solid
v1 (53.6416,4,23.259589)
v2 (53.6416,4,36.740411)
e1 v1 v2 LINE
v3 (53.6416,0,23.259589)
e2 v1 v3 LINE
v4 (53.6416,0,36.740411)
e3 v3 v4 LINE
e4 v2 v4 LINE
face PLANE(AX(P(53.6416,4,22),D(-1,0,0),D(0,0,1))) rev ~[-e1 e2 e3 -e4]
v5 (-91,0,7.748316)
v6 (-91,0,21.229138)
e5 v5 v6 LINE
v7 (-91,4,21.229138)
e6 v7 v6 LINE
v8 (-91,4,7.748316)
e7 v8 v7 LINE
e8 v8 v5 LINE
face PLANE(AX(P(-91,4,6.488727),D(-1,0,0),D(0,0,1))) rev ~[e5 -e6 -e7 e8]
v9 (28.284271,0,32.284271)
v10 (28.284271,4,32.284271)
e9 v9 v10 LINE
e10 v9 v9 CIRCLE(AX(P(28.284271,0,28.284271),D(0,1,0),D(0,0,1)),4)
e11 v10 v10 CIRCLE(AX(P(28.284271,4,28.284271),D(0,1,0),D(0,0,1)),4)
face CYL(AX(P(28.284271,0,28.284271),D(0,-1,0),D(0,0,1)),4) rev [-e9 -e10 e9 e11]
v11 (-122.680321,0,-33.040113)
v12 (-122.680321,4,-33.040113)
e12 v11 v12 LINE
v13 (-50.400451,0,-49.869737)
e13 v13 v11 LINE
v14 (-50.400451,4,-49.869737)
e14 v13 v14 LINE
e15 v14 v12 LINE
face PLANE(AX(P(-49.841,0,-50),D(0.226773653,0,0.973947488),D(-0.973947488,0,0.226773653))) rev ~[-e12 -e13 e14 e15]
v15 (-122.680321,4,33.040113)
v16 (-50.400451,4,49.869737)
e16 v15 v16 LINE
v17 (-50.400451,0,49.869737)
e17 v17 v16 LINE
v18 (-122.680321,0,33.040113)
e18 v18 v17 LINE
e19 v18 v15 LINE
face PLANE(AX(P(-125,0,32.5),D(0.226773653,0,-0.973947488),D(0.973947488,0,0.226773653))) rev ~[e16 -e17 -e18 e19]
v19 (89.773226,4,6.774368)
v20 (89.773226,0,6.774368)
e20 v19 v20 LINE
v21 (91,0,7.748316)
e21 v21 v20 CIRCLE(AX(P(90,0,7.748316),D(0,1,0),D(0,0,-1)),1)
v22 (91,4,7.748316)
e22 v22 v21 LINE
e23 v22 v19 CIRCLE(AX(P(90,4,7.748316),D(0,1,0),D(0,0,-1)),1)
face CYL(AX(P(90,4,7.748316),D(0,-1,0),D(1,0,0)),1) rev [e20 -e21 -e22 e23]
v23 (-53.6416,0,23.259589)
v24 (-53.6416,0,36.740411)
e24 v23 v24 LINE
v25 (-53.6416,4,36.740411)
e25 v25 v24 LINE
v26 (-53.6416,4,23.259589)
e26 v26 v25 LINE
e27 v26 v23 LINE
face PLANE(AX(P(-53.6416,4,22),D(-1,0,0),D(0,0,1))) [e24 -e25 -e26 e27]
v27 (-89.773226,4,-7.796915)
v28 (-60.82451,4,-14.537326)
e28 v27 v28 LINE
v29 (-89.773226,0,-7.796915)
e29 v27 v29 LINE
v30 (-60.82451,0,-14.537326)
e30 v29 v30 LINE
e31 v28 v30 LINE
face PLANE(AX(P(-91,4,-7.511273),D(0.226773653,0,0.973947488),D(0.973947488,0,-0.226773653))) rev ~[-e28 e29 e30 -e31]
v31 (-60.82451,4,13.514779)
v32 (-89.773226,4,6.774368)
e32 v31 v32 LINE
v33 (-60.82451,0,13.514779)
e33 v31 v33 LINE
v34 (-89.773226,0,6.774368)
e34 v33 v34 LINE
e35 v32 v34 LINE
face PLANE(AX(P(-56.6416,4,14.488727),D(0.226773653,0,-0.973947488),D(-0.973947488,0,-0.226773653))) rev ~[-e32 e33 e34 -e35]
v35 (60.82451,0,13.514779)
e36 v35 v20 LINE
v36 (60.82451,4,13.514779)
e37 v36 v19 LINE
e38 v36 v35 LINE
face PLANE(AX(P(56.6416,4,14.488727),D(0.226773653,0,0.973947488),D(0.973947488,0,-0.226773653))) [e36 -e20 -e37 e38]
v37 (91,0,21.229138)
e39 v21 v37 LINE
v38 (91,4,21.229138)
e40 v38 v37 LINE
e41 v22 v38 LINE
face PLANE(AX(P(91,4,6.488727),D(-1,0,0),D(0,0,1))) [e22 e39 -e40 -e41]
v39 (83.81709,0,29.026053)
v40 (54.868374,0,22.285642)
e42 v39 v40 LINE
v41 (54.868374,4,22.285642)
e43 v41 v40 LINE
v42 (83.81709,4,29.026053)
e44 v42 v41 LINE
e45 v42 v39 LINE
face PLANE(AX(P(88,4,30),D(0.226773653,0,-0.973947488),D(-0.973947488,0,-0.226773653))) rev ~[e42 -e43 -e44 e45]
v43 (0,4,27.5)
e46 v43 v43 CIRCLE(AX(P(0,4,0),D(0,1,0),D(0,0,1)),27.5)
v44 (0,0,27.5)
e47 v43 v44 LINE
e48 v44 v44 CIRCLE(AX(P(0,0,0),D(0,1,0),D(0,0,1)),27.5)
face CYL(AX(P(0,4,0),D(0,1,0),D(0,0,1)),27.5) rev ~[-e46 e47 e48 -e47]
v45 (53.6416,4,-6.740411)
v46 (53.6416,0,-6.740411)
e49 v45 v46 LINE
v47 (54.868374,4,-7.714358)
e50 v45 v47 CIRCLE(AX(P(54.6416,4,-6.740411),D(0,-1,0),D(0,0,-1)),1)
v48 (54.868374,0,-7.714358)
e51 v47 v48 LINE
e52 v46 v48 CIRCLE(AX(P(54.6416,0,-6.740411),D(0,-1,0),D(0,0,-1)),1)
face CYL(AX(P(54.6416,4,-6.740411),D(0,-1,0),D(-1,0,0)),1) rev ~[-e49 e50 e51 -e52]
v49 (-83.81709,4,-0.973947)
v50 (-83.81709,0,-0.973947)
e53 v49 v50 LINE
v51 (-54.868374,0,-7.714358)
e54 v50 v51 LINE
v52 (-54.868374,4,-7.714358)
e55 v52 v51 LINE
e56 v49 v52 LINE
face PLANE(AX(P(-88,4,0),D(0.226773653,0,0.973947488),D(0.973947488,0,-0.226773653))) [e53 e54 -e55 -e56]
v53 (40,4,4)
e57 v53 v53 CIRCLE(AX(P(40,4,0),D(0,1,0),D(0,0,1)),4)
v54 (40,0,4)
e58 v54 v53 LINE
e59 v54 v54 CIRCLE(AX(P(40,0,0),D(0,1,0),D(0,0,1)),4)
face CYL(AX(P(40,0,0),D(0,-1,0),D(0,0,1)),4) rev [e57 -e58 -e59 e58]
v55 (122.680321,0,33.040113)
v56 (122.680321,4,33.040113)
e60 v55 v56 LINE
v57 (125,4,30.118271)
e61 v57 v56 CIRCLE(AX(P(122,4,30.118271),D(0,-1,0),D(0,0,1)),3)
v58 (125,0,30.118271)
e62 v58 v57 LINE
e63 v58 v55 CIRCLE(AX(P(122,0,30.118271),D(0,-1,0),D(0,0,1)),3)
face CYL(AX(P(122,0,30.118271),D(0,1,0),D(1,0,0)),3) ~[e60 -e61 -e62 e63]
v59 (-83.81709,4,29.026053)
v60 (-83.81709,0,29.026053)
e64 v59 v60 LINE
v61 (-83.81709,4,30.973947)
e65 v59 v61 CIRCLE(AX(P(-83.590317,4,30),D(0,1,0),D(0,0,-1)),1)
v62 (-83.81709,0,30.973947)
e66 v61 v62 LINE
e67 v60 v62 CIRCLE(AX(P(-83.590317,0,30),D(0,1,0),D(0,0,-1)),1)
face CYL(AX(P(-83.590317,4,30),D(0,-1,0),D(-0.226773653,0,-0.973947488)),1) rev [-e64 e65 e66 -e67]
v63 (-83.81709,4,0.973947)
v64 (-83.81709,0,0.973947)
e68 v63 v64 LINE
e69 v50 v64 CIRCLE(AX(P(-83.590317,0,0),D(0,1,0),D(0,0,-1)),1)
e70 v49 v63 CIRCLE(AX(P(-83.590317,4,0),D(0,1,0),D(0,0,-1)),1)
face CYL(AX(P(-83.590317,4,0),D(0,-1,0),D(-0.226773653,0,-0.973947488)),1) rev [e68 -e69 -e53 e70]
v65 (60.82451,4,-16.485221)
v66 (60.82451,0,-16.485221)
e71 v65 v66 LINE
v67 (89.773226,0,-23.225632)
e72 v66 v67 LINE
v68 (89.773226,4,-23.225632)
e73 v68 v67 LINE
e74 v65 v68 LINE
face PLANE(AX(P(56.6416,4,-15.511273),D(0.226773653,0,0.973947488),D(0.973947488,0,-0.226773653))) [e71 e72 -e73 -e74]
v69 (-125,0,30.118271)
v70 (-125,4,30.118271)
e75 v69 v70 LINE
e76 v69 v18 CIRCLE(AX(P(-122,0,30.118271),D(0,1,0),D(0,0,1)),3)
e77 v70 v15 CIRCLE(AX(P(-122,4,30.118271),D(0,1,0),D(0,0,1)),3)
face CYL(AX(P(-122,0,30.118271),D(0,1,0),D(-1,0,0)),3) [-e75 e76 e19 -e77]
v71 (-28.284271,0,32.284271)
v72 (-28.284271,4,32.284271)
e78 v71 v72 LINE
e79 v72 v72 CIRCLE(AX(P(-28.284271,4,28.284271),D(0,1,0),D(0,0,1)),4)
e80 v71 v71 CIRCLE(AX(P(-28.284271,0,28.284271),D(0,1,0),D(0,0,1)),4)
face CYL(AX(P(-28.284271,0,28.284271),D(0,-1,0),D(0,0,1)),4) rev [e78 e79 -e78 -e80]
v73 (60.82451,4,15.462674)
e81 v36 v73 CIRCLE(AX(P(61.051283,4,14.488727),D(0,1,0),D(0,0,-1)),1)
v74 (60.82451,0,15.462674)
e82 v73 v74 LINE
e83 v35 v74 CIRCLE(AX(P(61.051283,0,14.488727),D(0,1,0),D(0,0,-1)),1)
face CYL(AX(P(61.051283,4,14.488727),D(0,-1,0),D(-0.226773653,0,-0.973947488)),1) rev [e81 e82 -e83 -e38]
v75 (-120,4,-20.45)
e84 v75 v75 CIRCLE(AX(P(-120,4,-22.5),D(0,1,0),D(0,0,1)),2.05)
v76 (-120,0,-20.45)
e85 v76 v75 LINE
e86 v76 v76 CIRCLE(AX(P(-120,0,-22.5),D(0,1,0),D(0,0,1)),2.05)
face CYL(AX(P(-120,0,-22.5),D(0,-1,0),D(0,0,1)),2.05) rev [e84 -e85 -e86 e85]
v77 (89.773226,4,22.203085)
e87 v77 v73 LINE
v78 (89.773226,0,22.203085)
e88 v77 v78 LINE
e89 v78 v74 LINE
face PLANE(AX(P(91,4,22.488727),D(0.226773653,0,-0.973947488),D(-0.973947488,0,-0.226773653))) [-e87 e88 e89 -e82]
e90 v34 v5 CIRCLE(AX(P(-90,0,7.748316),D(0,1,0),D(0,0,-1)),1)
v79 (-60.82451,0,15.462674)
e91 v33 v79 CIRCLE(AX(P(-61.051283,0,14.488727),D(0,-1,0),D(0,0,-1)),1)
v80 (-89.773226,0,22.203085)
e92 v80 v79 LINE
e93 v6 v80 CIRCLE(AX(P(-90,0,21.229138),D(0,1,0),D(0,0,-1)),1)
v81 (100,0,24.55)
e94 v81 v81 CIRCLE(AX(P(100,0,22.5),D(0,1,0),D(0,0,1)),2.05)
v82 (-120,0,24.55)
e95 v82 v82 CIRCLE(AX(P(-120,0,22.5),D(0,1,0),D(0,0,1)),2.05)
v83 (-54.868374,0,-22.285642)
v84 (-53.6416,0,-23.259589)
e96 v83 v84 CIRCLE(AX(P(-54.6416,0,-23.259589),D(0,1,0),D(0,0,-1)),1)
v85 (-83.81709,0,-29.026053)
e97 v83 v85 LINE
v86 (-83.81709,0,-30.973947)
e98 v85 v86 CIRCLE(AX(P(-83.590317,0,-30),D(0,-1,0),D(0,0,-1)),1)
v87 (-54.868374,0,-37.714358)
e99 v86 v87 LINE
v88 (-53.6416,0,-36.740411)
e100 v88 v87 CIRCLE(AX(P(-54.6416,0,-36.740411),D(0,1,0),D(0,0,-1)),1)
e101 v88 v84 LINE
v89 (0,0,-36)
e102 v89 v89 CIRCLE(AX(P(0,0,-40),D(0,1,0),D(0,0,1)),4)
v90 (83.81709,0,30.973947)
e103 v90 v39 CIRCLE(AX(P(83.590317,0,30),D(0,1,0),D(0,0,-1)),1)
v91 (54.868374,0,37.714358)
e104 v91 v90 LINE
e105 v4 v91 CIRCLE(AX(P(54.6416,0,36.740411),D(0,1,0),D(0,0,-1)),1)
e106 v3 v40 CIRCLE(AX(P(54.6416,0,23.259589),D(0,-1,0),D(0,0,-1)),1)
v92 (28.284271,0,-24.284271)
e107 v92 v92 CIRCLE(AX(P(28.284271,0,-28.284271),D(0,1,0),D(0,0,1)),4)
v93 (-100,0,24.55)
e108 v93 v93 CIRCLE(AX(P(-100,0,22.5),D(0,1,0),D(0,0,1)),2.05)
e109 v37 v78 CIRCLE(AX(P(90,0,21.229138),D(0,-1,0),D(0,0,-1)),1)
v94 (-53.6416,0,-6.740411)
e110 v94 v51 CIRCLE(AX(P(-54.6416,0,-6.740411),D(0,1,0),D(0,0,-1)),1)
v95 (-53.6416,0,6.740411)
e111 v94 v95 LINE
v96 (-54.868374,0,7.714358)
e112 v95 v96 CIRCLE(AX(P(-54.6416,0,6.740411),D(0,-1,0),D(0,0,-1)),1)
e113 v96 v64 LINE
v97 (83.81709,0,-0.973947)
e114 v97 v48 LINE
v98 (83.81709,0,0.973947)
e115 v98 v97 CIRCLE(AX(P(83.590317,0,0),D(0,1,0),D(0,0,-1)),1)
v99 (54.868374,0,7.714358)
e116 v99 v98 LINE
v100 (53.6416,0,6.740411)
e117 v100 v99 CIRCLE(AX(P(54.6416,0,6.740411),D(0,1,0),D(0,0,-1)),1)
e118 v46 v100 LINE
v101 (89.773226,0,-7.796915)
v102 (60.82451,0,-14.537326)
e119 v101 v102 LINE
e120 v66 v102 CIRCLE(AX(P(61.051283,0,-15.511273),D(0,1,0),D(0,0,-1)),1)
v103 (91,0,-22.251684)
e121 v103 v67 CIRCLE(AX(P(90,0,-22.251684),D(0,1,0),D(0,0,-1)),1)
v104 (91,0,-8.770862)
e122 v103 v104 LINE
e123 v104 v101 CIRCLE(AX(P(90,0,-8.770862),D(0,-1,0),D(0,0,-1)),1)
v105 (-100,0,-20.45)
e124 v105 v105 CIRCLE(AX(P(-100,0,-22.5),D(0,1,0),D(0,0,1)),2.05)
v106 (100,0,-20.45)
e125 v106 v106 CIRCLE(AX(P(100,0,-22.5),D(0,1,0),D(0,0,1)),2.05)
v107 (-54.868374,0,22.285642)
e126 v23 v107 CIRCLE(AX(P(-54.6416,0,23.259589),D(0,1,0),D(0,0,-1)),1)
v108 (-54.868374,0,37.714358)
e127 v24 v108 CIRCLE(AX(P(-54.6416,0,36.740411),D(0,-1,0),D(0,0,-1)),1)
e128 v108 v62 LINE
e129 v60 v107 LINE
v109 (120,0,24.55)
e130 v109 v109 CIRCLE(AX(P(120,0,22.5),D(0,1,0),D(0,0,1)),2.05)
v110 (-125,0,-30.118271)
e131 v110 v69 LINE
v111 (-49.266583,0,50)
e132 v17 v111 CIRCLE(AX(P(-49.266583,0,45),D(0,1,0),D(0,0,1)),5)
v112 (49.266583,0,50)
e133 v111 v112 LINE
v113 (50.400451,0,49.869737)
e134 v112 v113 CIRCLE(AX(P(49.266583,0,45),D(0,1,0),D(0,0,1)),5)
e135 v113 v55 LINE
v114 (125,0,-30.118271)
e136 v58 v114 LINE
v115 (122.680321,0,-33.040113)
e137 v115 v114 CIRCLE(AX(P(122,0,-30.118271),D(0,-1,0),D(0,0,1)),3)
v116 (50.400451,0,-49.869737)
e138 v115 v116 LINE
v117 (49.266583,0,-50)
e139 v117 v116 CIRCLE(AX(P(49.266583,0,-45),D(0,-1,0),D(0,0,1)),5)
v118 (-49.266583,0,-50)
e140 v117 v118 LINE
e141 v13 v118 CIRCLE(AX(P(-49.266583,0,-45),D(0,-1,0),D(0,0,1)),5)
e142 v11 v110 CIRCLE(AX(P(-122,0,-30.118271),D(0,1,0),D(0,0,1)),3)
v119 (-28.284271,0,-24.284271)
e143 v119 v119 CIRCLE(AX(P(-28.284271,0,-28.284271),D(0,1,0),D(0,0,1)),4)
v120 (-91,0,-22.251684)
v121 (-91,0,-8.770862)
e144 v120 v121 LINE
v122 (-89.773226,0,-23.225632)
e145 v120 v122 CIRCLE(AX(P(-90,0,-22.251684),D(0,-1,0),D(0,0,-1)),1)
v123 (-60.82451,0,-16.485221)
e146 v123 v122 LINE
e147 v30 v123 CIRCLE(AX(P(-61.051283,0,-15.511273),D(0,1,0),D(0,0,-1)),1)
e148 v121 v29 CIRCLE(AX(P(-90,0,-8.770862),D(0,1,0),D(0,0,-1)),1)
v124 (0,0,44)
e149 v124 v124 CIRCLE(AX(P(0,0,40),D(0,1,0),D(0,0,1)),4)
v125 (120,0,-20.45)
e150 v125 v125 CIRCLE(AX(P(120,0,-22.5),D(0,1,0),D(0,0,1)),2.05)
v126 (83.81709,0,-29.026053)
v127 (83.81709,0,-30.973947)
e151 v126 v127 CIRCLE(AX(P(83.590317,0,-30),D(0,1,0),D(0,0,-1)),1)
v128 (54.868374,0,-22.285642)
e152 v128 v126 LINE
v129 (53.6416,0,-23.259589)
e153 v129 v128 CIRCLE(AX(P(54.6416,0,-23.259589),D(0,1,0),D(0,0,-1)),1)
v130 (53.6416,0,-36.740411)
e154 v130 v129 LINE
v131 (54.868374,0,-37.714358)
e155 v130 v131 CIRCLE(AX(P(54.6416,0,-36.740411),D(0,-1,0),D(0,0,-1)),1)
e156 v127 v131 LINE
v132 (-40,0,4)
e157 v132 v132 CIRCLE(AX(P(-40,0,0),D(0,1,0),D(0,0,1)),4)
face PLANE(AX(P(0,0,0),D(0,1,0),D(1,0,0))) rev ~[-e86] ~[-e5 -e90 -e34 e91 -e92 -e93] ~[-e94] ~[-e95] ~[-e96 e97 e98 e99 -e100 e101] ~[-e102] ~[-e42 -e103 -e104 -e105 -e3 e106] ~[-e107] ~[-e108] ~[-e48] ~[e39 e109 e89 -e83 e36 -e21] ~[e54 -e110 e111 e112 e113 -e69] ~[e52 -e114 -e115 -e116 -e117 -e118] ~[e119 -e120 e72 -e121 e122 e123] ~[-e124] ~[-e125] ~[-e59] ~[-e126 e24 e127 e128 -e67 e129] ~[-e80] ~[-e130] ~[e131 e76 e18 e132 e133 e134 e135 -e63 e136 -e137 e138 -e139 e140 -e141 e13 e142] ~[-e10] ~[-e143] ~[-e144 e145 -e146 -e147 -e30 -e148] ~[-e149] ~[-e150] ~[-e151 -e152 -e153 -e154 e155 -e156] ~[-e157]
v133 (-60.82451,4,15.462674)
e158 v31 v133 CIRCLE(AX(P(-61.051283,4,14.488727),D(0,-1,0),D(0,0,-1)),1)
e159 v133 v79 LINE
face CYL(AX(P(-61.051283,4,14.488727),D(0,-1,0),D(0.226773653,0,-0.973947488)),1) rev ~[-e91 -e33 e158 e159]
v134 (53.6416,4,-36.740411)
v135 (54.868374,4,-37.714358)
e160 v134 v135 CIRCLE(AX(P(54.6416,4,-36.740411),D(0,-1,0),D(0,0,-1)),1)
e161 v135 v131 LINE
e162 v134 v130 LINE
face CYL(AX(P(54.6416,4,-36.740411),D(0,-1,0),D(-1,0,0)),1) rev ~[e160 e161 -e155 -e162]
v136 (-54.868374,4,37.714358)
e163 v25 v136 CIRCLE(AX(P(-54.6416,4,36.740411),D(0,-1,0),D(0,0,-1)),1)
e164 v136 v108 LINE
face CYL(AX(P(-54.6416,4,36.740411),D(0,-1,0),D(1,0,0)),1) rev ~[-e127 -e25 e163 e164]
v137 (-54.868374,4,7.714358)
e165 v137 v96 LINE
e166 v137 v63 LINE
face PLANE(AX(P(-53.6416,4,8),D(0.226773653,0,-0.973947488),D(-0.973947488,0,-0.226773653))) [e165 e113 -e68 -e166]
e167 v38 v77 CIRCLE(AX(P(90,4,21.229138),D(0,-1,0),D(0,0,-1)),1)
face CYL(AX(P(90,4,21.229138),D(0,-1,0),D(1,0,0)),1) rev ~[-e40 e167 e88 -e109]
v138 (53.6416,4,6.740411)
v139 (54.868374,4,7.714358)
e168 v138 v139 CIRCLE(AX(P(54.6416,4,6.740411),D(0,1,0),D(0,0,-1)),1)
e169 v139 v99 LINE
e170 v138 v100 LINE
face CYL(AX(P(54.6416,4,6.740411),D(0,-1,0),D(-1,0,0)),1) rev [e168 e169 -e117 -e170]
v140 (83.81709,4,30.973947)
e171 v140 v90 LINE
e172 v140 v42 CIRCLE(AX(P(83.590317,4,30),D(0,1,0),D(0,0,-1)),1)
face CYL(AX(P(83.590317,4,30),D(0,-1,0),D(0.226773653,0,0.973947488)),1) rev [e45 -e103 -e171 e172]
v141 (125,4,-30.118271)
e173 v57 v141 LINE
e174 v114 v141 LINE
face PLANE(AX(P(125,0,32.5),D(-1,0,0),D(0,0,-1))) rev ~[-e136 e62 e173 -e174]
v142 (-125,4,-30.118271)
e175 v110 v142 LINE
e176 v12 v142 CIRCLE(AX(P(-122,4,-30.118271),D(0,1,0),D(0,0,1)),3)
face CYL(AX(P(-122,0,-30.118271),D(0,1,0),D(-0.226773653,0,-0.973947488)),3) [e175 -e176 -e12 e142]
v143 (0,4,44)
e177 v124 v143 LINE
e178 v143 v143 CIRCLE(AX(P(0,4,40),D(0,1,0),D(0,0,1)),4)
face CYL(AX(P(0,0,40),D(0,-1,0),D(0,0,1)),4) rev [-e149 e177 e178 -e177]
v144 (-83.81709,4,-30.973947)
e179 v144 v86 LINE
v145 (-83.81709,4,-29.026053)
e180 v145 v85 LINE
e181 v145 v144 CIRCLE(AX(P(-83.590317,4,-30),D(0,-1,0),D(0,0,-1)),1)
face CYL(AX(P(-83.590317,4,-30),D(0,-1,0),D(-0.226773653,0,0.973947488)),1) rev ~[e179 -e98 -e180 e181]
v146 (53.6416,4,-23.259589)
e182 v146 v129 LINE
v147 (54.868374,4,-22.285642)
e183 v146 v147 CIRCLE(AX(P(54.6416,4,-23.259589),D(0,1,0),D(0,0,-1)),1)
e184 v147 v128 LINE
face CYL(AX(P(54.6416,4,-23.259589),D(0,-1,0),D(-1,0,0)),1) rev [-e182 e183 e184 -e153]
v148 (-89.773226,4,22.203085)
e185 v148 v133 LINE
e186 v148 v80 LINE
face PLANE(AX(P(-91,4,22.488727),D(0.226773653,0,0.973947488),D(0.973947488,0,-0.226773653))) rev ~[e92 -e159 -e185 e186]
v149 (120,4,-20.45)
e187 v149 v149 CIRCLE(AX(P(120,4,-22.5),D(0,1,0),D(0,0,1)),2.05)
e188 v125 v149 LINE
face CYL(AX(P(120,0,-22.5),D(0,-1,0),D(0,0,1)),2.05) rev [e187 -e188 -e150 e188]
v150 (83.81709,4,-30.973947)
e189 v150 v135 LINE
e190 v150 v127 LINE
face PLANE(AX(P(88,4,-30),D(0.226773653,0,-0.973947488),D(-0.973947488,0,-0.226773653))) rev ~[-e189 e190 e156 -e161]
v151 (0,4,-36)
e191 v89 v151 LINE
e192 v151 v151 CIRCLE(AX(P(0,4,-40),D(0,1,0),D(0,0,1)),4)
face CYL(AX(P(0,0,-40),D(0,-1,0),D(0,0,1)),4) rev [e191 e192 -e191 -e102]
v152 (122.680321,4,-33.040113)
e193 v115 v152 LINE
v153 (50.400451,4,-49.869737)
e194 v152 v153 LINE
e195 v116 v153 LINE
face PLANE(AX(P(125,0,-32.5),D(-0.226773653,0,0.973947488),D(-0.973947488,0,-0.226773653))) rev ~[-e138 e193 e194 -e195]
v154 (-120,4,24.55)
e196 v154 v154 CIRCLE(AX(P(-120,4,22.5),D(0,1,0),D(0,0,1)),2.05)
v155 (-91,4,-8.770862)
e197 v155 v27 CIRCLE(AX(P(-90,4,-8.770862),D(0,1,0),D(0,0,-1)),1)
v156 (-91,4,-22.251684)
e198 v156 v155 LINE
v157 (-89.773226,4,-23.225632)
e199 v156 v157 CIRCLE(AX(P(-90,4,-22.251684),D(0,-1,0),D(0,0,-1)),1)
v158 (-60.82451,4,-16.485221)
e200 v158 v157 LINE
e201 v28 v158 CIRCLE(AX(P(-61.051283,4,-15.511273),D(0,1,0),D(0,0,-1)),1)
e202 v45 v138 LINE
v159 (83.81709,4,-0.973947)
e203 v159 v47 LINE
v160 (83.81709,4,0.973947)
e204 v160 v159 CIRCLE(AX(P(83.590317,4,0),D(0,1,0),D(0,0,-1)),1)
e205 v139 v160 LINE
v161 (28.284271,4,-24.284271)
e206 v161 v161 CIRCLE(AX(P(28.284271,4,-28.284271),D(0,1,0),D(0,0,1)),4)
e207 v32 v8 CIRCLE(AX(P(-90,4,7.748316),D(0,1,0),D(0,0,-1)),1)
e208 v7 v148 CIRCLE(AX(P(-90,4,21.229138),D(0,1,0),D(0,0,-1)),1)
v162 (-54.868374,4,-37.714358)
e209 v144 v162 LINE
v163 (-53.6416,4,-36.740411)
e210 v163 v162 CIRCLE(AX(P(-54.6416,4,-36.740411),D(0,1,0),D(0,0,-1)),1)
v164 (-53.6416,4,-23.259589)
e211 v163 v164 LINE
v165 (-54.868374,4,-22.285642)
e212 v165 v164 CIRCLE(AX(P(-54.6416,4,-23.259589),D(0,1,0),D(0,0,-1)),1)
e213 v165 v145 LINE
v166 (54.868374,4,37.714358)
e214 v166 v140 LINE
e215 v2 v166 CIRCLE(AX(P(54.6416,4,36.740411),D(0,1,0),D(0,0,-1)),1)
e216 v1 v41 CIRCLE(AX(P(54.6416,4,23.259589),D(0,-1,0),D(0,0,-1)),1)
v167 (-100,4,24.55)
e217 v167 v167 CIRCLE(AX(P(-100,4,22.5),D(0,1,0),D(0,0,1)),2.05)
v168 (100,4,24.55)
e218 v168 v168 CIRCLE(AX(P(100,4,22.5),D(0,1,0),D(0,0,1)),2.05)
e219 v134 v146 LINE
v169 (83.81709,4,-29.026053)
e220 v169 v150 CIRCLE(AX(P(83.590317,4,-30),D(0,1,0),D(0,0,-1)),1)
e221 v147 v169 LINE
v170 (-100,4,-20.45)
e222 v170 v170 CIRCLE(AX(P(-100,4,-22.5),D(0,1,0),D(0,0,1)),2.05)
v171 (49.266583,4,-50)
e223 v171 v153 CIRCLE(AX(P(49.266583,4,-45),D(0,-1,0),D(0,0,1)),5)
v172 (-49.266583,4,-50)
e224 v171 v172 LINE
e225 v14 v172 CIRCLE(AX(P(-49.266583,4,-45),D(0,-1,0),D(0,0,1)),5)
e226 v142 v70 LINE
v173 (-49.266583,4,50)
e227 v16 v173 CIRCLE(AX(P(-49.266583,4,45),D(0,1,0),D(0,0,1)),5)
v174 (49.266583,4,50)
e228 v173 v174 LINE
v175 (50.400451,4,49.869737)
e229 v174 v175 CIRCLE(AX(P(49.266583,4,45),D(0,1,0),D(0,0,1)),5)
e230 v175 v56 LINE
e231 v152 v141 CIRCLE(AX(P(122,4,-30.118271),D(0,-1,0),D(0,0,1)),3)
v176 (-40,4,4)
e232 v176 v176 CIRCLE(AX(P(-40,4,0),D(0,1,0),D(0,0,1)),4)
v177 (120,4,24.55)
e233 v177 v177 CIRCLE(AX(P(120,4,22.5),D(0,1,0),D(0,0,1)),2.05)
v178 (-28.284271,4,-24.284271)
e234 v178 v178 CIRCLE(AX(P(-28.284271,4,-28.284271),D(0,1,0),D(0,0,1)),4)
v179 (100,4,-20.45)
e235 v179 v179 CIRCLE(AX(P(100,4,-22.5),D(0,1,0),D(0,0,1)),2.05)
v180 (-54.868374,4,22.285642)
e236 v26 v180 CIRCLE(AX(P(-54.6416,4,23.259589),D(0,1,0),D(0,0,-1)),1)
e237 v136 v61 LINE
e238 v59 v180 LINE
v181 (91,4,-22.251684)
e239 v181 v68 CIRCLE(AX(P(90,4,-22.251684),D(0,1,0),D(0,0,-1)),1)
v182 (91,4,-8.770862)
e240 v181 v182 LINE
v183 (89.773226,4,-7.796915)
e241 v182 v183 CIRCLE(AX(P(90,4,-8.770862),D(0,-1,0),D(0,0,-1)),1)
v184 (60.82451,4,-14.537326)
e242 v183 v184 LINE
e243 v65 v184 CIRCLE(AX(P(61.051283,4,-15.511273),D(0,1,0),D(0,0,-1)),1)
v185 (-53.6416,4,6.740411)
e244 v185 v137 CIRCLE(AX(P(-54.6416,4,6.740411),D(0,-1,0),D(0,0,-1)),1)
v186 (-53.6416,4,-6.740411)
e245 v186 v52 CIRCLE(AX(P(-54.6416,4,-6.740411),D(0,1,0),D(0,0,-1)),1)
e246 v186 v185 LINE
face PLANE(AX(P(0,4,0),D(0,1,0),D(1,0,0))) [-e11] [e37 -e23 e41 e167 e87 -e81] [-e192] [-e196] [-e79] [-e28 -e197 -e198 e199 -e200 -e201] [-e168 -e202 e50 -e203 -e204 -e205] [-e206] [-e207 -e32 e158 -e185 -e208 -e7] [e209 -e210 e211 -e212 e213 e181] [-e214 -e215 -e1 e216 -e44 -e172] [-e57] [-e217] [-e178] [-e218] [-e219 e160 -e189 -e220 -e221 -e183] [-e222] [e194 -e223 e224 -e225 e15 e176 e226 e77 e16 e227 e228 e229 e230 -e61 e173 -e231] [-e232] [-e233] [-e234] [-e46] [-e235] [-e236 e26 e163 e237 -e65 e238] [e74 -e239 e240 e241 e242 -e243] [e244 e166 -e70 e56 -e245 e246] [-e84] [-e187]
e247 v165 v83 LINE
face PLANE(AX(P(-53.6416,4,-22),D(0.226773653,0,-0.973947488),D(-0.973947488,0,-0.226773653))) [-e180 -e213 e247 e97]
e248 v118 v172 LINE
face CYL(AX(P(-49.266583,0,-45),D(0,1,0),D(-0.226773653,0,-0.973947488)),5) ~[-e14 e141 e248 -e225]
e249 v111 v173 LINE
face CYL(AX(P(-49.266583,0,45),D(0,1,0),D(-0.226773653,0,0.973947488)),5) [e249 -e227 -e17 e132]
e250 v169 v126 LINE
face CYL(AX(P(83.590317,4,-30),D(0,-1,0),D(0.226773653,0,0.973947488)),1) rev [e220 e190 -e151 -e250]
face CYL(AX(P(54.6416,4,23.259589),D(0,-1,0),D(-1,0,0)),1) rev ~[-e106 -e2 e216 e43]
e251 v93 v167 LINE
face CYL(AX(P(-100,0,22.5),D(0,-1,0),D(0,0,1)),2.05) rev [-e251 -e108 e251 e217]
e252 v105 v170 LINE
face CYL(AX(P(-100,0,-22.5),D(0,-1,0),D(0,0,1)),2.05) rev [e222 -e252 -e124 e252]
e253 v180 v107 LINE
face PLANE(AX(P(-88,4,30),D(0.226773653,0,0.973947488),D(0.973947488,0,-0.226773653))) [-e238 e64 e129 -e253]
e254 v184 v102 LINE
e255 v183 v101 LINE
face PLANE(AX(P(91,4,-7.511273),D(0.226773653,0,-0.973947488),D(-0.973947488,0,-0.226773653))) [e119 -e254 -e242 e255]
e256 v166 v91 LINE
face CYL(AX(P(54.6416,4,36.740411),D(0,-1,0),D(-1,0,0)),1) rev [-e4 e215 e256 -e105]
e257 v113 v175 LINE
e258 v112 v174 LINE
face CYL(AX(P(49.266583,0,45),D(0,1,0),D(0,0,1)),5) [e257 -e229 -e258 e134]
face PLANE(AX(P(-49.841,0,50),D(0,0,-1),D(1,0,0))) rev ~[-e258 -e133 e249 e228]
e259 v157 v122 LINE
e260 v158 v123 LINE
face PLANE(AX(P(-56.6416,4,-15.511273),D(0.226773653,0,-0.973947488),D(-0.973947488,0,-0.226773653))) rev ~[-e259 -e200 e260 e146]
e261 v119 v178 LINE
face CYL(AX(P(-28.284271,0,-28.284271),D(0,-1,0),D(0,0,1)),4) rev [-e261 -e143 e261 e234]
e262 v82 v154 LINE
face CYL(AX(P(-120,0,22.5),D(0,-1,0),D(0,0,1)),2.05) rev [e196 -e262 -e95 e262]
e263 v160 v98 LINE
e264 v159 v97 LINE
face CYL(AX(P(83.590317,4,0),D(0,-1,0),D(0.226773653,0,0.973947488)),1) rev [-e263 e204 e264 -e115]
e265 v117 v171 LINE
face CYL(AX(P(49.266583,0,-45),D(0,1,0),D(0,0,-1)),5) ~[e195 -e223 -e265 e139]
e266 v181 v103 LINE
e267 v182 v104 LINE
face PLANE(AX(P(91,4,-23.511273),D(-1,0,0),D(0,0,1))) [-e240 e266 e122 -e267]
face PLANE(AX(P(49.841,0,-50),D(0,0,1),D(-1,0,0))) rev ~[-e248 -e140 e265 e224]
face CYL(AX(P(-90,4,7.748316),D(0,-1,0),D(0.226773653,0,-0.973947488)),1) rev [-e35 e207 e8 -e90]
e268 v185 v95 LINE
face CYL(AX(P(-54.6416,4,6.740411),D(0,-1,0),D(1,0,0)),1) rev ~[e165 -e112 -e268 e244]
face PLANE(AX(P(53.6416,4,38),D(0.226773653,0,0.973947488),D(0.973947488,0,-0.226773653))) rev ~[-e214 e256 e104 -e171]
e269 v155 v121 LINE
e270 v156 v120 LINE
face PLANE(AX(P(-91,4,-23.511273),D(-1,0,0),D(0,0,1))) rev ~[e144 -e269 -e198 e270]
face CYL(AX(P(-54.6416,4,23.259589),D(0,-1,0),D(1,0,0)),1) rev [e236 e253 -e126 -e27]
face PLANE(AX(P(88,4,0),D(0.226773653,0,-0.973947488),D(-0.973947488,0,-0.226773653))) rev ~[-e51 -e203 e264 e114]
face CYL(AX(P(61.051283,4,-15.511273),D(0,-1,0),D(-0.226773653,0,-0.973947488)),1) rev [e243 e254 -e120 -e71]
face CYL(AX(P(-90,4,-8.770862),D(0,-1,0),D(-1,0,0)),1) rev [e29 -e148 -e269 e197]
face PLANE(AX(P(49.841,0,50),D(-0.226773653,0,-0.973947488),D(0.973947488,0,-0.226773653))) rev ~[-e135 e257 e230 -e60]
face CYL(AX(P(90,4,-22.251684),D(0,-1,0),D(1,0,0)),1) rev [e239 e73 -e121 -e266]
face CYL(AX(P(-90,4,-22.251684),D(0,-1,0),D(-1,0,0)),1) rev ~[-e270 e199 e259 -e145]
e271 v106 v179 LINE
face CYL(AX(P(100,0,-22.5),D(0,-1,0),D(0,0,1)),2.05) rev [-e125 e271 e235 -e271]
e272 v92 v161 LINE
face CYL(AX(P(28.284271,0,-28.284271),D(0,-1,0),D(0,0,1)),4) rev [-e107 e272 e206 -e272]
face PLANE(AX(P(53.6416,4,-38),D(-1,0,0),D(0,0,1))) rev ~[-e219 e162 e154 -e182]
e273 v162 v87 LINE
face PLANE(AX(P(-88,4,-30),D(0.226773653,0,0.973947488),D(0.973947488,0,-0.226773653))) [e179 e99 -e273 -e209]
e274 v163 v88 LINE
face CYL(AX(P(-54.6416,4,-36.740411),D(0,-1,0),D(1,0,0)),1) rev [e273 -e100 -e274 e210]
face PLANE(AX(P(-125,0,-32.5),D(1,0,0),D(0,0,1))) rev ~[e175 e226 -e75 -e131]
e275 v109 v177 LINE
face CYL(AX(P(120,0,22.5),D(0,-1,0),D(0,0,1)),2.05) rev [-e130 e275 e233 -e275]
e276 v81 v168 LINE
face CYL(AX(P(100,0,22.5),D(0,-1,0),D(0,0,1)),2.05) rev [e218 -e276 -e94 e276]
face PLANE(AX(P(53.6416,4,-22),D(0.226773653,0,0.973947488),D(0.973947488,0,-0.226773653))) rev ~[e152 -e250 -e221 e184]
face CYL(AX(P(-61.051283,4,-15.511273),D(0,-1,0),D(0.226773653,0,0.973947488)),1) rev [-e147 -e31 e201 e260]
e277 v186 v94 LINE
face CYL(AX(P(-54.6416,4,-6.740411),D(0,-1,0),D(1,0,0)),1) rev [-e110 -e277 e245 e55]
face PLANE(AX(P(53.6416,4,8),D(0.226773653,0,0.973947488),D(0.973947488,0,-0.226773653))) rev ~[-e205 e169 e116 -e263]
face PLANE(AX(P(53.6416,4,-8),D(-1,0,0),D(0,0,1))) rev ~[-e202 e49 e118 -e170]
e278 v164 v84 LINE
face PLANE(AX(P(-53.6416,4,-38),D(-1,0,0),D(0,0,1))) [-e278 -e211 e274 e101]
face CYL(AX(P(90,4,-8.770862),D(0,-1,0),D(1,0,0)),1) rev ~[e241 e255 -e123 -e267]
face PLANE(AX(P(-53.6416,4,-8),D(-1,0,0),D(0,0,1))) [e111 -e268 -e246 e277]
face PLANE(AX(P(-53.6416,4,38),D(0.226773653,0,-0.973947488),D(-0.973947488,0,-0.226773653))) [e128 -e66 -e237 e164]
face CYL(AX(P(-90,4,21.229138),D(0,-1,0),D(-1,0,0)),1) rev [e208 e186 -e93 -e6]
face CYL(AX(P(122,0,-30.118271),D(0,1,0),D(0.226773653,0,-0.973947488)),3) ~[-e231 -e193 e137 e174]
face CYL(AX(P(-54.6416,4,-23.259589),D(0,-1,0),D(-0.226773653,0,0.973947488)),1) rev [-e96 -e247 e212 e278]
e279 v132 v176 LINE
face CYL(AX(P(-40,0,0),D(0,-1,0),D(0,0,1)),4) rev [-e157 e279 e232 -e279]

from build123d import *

# Parameters (mm, degrees)
SKETCH_1_R          = 2.05
SKETCH_1_R_2        = 4
EXTRUDE_1_DEPTH     = 4
SKETCH_5_R          = 27.5
CUT_EXTRUDE_5_DEPTH = 10
FILLET_2_R          = 3
FILLET_3_R          = 5
CUT_EXTRUDE_6_DEPTH = 10
FILLET_4_R          = 1


with BuildPart() as part:
    # 草图1 → 凸台-拉伸1 (new body)
    with BuildSketch(Plane(origin=(0, 0, 0), x_dir=(1, 0, 0), z_dir=(0, 1, 0))):
        Polygon((-49.840999723, 50), (-125, 32.5), (-125, -32.5), (-49.840999723, -50), (49.840999723, -50), (125, -32.5), (125, 32.5), (49.840999723, 50), align=None)
        with Locations(Location((-120, -22.5, 0), (0, 0, 270))):
            Circle(SKETCH_1_R, mode=Mode.SUBTRACT)
        with Locations(Location((-100, -22.5, 0), (0, 0, 270))):
            Circle(SKETCH_1_R, mode=Mode.SUBTRACT)
        with Locations(Location((-120, 22.5, 0), (0, 0, 270))):
            Circle(SKETCH_1_R, mode=Mode.SUBTRACT)
        with Locations(Location((-100, 22.5, 0), (0, 0, 270))):
            Circle(SKETCH_1_R, mode=Mode.SUBTRACT)
        with Locations(Location((0, 40, 0), (0, 0, 270))):
            Circle(SKETCH_1_R_2, mode=Mode.SUBTRACT)
        with Locations(Location((-28.284271247, -28.284271247, 0), (0, 0, 270))):
            Circle(SKETCH_1_R_2, mode=Mode.SUBTRACT)
        with Locations(Location((-40, 0, 0), (0, 0, 270))):
            Circle(SKETCH_1_R_2, mode=Mode.SUBTRACT)
        with Locations(Location((0, -40, 0), (0, 0, 270))):
            Circle(SKETCH_1_R_2, mode=Mode.SUBTRACT)
        with Locations(Location((28.284271247, -28.284271247, 0), (0, 0, 270))):
            Circle(SKETCH_1_R_2, mode=Mode.SUBTRACT)
        with Locations(Location((-28.284271247, 28.284271247, 0), (0, 0, 270))):
            Circle(SKETCH_1_R_2, mode=Mode.SUBTRACT)
        with Locations(Location((40, 0, 0), (0, 0, 270))):
            Circle(SKETCH_1_R_2, mode=Mode.SUBTRACT)
        with Locations(Location((28.284271247, 28.284271247, 0), (0, 0, 270))):
            Circle(SKETCH_1_R_2, mode=Mode.SUBTRACT)
        with Locations(Location((120, 22.5, 0), (0, 0, 270))):
            Circle(SKETCH_1_R, mode=Mode.SUBTRACT)
        with Locations(Location((100, 22.5, 0), (0, 0, 270))):
            Circle(SKETCH_1_R, mode=Mode.SUBTRACT)
        with Locations(Location((100, -22.5, 0), (0, 0, 270))):
            Circle(SKETCH_1_R, mode=Mode.SUBTRACT)
        with Locations(Location((120, -22.5, 0), (0, 0, 270))):
            Circle(SKETCH_1_R, mode=Mode.SUBTRACT)
    extrude(amount=EXTRUDE_1_DEPTH)

    # 草图5 → 切除-拉伸5 (cut)
    with BuildSketch(Plane(origin=(0, 4, 0), x_dir=(1, 0, 0), z_dir=(0, 1, 0))):
        with Locations(Location((0, 0, 0), (0, 0, 270))):
            Circle(SKETCH_5_R)
    extrude(amount=-CUT_EXTRUDE_5_DEPTH, mode=Mode.SUBTRACT)

    # 圆角2
    fillet_2_edges = [part.edges().sort_by_distance(p)[0] for p in [
        (-125, 2, 32.5),
        (-125, 2, -32.5),
        (125, 2, -32.5),
        (125, 2, 32.5),
    ]]
    fillet(fillet_2_edges, radius=FILLET_2_R)

    # 圆角3
    fillet_3_edges = [part.edges().sort_by_distance(p)[0] for p in [
        (-49.840999723, 2, 50),
        (-49.840999723, 2, -50),
        (49.840999723, 2, -50),
        (49.840999723, 2, 50),
    ]]
    fillet(fillet_3_edges, radius=FILLET_3_R)

    # 草图6 → 切除-拉伸6 (cut)
    with BuildSketch(Plane(origin=(0, 4, 0), x_dir=(1, 0, 0), z_dir=(0, 1, 0))):
        Polygon((-88, 30), (-53.641599874, 38), (-53.641599874, 22), align=None)
        Polygon((-53.641599874, -8), (-88, 0), (-53.641599874, 8), align=None)
        Polygon((-53.641599874, -38), (-88, -30), (-53.641599874, -22), align=None)
        Polygon((-91, 23.511273333), (-91, 7.511273333), (-56.641599874, 15.511273333), align=None)
        Polygon((-56.641599874, -14.488726667), (-91, -6.488726667), (-91, -22.488726667), align=None)
        Polygon((53.641599874, -22), (53.641599874, -38), (88, -30), align=None)
        Polygon((91, -22.488726667), (56.641599874, -14.488726667), (91, -6.488726667), align=None)
        Polygon((91, 7.511273333), (56.641599874, 15.511273333), (91, 23.511273333), align=None)
        Polygon((53.641599874, 8), (53.641599874, -8), (88, 0), align=None)
        Polygon((53.641599874, 38), (53.641599874, 22), (88, 30), align=None)
    extrude(amount=-CUT_EXTRUDE_6_DEPTH, mode=Mode.SUBTRACT)

    # 圆角4
    fillet_4_edges = [part.edges().sort_by_distance(p)[0] for p in [
        (-88, 2, 30),
        (-53.641599874, 2, 22),
        (-53.641599874, 2, 38),
        (-91, 2, 22.488726667),
        (-91, 2, 6.488726667),
        (-56.641599874, 2, 14.488726667),
        (-91, 2, -23.511273333),
        (-56.641599874, 2, -15.511273333),
        (-91, 2, -7.511273333),
        (-88, 2, 0),
        (-53.641599874, 2, -8),
        (-53.641599874, 2, 8),
        (91, 2, -23.511273333),
        (91, 2, -7.511273333),
        (56.641599874, 2, -15.511273333),
        (53.641599874, 2, -8),
        (88, 2, 0),
        (53.641599874, 2, 8),
        (53.641599874, 2, 22),
        (88, 2, 30),
        (53.641599874, 2, 38),
        (91, 2, 6.488726667),
        (91, 2, 22.488726667),
        (56.641599874, 2, 14.488726667),
        (53.641599874, 2, -38),
        (88, 2, -30),
        (53.641599874, 2, -22),
        (-53.641599874, 2, -22),
        (-88, 2, -30),
        (-53.641599874, 2, -38),
    ]]
    fillet(fillet_4_edges, radius=FILLET_4_R)


solid = part.part
